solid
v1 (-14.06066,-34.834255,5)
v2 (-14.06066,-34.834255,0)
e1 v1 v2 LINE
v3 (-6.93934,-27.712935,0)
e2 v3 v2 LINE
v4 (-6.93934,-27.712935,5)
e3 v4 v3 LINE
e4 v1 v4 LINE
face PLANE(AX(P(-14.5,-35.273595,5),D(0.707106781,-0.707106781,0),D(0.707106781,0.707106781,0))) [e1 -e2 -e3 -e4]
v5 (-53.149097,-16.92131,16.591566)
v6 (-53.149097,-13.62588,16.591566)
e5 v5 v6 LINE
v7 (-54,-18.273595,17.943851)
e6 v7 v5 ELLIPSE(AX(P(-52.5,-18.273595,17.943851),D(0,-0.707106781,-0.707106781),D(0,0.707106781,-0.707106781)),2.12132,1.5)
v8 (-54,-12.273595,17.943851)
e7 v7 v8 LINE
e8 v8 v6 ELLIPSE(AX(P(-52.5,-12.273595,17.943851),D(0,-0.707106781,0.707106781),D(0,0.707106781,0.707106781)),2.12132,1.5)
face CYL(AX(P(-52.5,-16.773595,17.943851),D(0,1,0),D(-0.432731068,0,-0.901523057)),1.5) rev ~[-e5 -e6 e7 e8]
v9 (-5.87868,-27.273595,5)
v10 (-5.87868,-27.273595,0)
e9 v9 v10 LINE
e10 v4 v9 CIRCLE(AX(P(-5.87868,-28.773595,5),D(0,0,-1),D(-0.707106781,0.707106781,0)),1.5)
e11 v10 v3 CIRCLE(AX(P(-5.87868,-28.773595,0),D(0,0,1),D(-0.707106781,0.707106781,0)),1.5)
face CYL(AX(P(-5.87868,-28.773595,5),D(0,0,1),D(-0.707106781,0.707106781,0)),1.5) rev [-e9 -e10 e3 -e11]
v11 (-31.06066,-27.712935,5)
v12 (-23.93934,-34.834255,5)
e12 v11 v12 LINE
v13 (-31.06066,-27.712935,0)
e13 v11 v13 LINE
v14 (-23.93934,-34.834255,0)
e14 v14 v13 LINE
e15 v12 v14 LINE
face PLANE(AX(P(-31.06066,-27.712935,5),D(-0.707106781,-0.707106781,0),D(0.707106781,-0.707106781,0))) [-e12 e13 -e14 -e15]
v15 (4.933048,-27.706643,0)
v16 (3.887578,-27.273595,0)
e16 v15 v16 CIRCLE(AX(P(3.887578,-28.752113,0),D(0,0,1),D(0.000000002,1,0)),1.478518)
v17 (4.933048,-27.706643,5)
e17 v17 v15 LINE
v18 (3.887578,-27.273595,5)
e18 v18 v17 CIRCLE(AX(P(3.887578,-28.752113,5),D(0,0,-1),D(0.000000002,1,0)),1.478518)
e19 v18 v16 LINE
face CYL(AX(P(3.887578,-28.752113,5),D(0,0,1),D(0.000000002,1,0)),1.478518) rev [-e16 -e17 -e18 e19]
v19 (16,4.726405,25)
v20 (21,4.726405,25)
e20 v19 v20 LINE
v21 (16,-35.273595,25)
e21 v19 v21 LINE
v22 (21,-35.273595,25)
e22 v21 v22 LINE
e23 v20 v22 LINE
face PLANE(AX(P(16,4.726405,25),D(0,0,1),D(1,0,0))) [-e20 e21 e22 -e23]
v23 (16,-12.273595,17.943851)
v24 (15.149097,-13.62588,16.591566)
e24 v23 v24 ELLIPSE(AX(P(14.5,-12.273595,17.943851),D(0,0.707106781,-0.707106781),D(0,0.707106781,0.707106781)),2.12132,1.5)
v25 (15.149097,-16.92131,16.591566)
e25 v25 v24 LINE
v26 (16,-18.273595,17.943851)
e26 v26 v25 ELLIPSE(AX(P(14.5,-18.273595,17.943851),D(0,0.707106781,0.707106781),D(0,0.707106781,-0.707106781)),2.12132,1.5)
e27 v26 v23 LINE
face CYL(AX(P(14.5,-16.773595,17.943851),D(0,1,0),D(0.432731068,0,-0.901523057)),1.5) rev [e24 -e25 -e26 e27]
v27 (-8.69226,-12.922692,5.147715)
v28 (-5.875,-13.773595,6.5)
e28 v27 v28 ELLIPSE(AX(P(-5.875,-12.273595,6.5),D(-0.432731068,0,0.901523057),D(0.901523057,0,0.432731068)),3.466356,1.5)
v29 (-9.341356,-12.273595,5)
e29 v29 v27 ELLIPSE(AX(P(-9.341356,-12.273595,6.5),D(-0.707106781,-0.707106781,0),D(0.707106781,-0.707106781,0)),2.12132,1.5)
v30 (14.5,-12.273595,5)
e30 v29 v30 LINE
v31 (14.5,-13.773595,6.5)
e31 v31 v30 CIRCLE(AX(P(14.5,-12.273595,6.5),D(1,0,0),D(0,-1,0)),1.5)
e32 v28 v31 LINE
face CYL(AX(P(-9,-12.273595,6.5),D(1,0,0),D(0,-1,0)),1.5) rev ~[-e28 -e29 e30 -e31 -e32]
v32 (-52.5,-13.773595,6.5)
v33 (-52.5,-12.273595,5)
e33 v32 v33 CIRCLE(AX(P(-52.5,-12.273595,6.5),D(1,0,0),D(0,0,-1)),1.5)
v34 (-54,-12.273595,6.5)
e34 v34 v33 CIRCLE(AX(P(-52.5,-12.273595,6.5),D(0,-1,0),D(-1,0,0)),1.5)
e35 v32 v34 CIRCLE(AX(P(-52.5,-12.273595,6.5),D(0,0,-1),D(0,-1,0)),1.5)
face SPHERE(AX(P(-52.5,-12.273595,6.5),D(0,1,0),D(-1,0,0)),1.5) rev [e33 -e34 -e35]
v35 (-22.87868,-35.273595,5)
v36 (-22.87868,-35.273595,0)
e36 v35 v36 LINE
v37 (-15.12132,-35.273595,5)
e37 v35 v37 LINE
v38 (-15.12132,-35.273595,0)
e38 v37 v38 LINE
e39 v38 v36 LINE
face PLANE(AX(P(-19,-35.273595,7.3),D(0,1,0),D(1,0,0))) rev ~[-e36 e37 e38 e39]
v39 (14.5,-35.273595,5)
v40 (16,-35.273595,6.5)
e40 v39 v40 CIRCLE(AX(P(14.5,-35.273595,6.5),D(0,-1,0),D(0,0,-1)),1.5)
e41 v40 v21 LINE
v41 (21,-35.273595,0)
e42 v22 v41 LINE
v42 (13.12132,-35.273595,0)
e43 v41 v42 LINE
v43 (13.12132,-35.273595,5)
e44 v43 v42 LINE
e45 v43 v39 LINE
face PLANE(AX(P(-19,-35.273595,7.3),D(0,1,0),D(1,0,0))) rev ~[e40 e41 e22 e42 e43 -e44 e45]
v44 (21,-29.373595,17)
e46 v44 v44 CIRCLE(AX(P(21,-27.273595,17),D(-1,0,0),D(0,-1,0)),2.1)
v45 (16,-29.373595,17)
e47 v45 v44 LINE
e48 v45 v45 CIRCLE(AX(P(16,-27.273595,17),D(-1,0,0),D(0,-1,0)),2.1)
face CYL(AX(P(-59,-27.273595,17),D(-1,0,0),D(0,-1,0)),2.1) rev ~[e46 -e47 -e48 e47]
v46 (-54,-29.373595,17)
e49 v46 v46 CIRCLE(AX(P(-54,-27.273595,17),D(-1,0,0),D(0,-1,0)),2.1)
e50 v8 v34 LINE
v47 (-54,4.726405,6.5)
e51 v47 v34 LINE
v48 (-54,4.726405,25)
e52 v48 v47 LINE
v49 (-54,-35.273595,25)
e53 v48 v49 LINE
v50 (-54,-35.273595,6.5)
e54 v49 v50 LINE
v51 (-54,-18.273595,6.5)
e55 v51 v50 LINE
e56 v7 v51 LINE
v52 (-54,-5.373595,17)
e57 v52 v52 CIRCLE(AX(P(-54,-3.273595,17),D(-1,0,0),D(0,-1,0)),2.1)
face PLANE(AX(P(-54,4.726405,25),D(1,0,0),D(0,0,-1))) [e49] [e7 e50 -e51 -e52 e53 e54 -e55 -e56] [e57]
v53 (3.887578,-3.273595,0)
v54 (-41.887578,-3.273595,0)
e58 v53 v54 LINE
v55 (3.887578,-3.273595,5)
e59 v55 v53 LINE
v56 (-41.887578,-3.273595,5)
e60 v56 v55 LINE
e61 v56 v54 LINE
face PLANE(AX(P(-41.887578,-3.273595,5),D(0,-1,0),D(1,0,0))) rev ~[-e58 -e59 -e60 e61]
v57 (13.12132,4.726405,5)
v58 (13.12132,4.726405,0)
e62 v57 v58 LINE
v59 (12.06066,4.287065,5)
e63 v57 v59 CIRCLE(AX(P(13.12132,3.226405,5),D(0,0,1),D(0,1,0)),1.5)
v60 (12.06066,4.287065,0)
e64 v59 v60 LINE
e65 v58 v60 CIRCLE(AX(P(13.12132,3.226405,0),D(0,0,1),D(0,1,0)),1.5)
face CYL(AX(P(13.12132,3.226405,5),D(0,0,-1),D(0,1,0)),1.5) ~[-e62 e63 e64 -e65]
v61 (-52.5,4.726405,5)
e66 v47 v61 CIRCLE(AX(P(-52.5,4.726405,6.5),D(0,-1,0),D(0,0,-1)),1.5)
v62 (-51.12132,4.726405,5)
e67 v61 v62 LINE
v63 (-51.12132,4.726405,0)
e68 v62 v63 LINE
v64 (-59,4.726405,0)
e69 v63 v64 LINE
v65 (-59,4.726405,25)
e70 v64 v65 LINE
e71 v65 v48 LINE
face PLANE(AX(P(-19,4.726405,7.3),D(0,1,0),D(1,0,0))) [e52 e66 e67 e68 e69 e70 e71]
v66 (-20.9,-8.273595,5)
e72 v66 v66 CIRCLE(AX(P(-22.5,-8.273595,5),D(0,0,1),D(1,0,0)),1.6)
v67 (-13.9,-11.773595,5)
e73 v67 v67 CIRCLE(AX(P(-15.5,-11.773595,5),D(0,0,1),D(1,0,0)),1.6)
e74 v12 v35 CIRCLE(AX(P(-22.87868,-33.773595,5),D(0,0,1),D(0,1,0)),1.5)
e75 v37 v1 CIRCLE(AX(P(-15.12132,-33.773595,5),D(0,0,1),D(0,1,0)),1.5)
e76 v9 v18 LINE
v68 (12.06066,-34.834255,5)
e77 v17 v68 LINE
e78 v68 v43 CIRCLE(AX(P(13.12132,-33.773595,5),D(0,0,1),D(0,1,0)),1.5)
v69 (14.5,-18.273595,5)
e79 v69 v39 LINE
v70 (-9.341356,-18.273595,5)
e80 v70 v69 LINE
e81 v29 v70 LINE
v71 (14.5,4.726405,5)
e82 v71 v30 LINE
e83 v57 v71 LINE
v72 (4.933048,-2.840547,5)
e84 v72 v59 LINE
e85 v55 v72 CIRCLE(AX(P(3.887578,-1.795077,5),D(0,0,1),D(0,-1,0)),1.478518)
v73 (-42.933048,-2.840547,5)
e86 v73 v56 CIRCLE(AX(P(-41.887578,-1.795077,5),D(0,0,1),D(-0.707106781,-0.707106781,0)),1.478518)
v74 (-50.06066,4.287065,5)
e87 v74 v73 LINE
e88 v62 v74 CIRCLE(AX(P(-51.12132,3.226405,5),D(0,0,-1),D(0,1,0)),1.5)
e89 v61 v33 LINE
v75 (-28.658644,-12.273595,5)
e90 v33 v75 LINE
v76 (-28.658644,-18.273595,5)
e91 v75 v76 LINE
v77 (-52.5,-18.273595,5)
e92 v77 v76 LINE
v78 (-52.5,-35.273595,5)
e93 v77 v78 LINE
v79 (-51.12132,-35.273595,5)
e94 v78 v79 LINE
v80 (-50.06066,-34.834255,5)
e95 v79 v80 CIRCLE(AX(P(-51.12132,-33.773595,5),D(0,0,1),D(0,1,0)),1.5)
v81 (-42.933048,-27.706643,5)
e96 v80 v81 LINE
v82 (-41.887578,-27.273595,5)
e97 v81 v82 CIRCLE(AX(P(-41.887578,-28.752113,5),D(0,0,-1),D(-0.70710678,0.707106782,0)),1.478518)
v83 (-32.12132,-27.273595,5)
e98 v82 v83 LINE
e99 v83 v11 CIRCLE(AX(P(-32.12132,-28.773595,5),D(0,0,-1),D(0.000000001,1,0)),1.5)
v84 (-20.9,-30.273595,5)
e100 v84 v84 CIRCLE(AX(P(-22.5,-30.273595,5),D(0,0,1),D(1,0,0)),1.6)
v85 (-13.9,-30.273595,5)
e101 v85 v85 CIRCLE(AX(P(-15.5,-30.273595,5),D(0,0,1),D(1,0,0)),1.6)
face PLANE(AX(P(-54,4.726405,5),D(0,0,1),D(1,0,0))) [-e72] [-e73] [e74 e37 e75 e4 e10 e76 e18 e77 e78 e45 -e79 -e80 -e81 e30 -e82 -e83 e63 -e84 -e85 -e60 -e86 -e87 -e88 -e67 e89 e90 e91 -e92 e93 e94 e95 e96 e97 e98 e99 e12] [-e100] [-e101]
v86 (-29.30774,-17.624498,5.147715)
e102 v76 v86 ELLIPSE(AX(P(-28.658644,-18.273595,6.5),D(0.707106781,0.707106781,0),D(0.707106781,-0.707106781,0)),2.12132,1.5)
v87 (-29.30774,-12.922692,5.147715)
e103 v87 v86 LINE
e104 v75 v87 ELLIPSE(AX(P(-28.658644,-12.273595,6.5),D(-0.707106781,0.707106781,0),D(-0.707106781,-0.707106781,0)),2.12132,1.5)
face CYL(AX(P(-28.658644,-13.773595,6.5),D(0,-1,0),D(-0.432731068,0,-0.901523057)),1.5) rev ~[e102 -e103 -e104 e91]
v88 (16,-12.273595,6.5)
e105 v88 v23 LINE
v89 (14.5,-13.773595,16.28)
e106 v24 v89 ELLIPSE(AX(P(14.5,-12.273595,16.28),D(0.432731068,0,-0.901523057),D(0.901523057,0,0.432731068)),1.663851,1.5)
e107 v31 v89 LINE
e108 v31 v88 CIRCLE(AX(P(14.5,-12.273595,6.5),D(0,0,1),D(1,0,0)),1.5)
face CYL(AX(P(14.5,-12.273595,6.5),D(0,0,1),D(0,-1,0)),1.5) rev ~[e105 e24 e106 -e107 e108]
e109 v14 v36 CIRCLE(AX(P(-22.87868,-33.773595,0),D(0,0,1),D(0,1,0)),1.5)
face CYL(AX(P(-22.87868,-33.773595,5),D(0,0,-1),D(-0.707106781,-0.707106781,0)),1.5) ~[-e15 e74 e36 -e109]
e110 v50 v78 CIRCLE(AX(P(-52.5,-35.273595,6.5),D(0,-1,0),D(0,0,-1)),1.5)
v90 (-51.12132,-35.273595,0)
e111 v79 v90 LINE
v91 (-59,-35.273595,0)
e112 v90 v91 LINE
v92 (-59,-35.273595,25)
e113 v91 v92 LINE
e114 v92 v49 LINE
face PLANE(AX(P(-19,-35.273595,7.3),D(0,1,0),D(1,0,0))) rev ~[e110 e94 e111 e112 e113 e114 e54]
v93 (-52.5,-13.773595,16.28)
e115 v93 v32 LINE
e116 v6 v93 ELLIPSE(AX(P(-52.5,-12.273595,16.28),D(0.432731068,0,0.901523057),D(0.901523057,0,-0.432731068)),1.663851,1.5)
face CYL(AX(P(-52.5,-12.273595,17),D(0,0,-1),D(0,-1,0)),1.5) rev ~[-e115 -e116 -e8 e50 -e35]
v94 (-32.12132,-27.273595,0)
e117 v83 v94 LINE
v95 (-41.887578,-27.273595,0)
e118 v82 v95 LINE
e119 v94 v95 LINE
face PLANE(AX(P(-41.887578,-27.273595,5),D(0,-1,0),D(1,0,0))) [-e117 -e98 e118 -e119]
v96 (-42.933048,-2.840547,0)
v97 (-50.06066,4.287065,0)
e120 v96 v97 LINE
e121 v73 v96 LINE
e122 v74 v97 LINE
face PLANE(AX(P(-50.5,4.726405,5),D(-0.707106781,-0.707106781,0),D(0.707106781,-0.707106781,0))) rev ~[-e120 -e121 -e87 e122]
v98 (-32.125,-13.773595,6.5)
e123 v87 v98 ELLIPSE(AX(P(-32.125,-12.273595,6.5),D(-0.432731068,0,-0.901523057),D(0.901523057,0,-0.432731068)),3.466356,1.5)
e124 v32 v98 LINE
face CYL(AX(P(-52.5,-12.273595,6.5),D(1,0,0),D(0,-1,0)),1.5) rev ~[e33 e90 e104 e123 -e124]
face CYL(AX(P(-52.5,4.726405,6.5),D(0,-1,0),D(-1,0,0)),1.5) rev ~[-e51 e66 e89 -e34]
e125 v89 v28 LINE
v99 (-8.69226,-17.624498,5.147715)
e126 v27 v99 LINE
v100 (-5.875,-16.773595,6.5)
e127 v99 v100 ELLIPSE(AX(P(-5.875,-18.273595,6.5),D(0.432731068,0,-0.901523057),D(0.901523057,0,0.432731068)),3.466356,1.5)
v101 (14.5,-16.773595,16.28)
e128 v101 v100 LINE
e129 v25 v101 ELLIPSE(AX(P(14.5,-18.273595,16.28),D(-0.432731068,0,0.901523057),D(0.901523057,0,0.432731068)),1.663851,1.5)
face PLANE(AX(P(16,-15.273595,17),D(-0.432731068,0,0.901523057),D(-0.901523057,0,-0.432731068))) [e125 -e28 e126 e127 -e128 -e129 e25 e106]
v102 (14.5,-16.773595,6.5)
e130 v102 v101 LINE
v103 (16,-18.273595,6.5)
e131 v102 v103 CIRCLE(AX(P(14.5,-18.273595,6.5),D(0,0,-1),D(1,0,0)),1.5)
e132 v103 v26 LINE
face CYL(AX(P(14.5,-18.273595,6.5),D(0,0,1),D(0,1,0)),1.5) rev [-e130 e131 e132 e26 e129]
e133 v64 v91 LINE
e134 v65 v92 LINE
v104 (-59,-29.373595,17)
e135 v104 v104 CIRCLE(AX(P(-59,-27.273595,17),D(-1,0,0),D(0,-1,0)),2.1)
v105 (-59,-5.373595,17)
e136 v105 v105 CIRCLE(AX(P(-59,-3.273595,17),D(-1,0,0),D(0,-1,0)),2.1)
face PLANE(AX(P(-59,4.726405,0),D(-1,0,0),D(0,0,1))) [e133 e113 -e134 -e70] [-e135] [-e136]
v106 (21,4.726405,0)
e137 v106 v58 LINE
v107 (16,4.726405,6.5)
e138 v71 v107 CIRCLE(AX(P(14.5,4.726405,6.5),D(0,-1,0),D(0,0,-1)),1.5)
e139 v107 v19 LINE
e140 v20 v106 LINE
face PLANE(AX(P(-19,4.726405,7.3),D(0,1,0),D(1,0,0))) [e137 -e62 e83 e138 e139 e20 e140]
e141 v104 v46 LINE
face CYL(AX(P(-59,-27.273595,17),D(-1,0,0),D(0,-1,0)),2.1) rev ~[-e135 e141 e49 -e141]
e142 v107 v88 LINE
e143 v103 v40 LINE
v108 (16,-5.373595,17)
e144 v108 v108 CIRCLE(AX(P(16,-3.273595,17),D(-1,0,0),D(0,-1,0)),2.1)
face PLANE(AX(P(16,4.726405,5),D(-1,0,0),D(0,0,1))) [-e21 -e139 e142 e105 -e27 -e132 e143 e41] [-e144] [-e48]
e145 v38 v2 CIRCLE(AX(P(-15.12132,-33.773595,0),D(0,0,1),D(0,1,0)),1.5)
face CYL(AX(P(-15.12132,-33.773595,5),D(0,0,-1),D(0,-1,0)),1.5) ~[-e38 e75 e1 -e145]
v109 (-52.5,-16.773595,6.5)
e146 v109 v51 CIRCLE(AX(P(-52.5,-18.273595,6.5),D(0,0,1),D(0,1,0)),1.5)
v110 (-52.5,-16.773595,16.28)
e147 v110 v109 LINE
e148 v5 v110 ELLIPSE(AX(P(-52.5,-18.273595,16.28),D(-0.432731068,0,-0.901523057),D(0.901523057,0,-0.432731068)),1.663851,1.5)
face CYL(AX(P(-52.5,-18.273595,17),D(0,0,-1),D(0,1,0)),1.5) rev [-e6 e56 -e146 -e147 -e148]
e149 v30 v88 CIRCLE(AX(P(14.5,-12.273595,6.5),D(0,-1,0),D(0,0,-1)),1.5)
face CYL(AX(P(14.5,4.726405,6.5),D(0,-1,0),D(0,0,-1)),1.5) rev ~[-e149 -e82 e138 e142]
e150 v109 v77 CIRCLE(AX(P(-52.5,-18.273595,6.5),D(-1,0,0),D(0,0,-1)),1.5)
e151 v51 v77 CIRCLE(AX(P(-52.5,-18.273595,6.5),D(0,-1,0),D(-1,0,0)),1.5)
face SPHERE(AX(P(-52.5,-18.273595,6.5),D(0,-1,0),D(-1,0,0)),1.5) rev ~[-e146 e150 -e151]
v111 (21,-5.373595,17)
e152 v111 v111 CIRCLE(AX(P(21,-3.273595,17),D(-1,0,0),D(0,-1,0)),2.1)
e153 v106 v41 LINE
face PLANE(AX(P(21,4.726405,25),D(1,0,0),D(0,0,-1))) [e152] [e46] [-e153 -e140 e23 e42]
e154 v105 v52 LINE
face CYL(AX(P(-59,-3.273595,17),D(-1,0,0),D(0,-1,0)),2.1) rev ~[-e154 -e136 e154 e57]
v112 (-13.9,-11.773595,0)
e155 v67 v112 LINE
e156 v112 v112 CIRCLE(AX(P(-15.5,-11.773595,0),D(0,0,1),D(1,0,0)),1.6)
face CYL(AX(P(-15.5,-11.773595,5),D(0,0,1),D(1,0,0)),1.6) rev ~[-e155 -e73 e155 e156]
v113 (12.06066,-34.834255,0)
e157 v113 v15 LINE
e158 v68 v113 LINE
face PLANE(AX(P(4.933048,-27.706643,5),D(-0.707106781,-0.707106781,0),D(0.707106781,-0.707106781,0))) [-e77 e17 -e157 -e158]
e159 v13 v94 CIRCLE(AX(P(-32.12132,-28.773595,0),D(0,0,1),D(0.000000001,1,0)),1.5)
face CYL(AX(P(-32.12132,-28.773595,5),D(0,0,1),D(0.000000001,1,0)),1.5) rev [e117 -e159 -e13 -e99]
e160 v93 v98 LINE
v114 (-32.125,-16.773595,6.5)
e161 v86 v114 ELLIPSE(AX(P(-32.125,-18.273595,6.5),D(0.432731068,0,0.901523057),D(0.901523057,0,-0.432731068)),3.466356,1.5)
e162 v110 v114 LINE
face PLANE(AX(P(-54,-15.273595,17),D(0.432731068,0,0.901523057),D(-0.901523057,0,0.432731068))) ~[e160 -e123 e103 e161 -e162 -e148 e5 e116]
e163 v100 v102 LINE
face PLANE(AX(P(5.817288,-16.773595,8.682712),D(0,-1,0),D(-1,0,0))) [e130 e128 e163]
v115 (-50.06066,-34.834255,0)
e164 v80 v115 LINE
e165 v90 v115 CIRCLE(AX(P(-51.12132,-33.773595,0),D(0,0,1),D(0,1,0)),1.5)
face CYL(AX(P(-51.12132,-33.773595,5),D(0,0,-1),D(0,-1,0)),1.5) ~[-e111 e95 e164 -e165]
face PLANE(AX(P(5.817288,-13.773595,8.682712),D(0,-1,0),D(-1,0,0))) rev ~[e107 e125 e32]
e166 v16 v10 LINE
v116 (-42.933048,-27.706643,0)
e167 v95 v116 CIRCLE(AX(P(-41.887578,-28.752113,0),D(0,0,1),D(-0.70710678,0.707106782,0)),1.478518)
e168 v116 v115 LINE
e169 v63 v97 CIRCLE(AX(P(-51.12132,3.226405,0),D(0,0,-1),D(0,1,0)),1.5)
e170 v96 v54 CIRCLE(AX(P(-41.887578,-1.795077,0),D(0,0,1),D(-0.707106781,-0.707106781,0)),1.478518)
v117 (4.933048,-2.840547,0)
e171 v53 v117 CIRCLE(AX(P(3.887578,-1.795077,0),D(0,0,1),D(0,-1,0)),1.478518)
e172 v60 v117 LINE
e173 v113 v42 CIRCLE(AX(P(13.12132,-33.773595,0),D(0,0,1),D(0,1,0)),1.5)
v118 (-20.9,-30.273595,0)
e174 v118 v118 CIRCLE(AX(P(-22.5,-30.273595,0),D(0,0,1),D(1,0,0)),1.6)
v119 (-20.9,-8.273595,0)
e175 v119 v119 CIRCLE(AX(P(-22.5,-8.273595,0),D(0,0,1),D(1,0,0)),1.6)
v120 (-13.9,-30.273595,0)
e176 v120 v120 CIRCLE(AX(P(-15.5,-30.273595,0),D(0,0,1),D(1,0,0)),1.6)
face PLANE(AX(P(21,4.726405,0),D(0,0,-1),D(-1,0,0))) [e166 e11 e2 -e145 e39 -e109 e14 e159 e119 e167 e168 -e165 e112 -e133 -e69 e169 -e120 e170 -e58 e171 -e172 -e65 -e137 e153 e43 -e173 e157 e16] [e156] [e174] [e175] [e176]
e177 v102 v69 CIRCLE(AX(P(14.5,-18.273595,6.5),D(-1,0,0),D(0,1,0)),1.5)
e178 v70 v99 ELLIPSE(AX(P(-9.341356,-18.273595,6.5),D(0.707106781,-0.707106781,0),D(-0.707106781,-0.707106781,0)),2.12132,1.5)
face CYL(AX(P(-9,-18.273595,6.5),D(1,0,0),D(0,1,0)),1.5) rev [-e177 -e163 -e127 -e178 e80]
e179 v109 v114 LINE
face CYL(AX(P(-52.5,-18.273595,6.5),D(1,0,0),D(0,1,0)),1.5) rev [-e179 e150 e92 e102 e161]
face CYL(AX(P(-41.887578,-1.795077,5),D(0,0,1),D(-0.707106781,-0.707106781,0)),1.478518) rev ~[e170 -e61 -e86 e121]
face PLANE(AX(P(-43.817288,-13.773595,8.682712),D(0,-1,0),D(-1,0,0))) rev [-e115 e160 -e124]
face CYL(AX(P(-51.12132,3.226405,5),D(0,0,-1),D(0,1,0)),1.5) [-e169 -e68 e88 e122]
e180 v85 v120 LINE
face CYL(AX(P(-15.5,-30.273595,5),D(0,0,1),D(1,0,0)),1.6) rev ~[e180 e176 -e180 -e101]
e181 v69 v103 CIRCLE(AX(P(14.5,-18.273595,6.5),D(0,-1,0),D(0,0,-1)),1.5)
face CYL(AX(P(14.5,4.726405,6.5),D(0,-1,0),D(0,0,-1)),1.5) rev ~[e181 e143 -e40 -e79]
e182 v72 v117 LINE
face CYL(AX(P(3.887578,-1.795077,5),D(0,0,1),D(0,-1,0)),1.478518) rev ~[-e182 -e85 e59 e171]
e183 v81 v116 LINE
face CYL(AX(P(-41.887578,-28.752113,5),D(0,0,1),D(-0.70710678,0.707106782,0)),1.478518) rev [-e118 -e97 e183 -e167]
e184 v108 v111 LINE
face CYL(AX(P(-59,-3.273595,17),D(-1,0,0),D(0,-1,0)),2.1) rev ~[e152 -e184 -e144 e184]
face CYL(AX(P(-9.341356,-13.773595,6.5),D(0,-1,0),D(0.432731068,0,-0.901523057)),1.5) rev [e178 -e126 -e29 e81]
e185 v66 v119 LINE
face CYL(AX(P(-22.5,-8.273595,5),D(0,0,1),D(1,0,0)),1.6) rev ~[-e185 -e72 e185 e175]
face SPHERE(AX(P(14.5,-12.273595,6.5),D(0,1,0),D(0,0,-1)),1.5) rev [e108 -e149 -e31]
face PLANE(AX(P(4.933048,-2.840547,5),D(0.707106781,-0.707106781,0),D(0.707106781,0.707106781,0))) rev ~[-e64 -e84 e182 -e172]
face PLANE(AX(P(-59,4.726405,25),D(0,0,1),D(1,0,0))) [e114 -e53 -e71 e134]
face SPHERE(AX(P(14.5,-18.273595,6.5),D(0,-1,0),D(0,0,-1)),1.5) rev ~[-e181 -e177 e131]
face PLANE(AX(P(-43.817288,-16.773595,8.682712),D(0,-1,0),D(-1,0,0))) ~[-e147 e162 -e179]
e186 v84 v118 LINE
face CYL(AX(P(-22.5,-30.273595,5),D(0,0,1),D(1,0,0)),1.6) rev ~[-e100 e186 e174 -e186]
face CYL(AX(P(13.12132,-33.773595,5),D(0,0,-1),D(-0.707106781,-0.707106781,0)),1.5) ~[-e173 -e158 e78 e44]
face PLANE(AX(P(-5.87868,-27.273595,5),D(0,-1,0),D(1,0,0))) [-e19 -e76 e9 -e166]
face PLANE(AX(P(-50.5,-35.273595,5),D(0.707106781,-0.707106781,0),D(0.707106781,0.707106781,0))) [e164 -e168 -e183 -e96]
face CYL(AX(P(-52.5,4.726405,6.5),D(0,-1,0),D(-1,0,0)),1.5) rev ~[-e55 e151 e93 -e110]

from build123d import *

# Parameters (mm, degrees)
EXTRUDE_1_DEPTH     = 40
FILLET_1_R          = 1.5
SKETCH_3_R          = 1.6
CUT_EXTRUDE_1_DEPTH = 40
SKETCH_4_R          = 2.1
CUT_EXTRUDE_2_DEPTH = 80
SKETCH_5_R          = 1.6
CUT_EXTRUDE_3_DEPTH = 80
CUT_EXTRUDE_4_DEPTH = 10
FILLET_4_R          = 1.5
EXTRUDE_2_DEPTH     = 1.5
FILLET_5_R          = 1.5
FILLET_6_R          = 1.5


with BuildPart() as part:
    # 草图2 → 凸台-拉伸1 (new body)
    with BuildSketch(Plane(origin=(0, 4.726404994, 0), x_dir=(1, 0, 0), z_dir=(0, 1, 0))):
        Polygon((21, 0), (-59, 0), (-59, -25), (-54, -25), (-54, -5), (16, -5), (16, -25), (21, -25), align=None)
    extrude(amount=-EXTRUDE_1_DEPTH)

    # 圆角1
    fillet_1_edges = [part.edges().sort_by_distance(p)[0] for p in [
        (16, -15.273595006, 5),
        (-54, -15.273595006, 5),
    ]]
    fillet(fillet_1_edges, radius=FILLET_1_R)

    # 草图3 → 切除-拉伸1 (cut)
    with BuildSketch(Plane.XY.offset(5)):
        with Locations((-22.5, -30.273595006)):
            Circle(SKETCH_3_R)
        with Locations((-22.5, -8.273595006)):
            Circle(SKETCH_3_R)
    extrude(amount=-CUT_EXTRUDE_1_DEPTH, mode=Mode.SUBTRACT)

    # 草图4 → 切除-拉伸2 (cut)
    with BuildSketch(Plane.ZY.offset(59)):
        with Locations(Location((17, -3.273595006, 0), (0, 0, 270))):
            Circle(SKETCH_4_R)
        with Locations(Location((17, -27.273595006, 0), (0, 0, 270))):
            Circle(SKETCH_4_R)
    extrude(amount=-CUT_EXTRUDE_2_DEPTH, mode=Mode.SUBTRACT)

    # 草图5 → 切除-拉伸3 (cut)
    with BuildSketch(Plane.XY.offset(5)):
        with Locations((-15.5, -30.273595006)):
            Circle(SKETCH_5_R)
        with Locations((-15.5, -11.773595006)):
            Circle(SKETCH_5_R)
    extrude(amount=-CUT_EXTRUDE_3_DEPTH, mode=Mode.SUBTRACT)

    # 草图7 → 切除-拉伸4 (cut)
    with BuildSketch(Plane.XY.offset(5)):
        with BuildLine():
            Line((-50.5, 4.726404994), (-42.933047922, -2.840547084))
            ThreePointArc((-42.933047922, -2.840547084), (-42.453382132, -3.161049518), (-41.887577755, -3.273595006))
            Line((-41.887577755, -3.273595006), (3.887577755, -3.273595006))
            ThreePointArc((3.887577755, -3.273595006), (4.453382132, -3.161049518), (4.933047922, -2.840547084))
            Line((4.933047922, -2.840547084), (12.5, 4.726404994))
            Line((12.5, 4.726404994), (-50.5, 4.726404994))
        make_face()
        with BuildLine():
            Line((12.5, -35.273595006), (-14.5, -35.273595006))
            Line((-14.5, -35.273595006), (-6.939339828, -27.712934835))
            ThreePointArc((-6.939339828, -27.712934835), (-6.452704805, -27.387775708), (-5.878679656, -27.273595006))
            Line((-5.878679656, -27.273595006), (3.887577755, -27.273595006))
            ThreePointArc((3.887577755, -27.273595006), (4.453382132, -27.386140495), (4.933047922, -27.706642929))
            Line((4.933047922, -27.706642929), (12.5, -35.273595006))
        make_face()
        with BuildLine():
            Line((-41.887577755, -27.273595006), (-32.121320344, -27.273595006))
            ThreePointArc((-32.121320344, -27.273595006), (-31.547295195, -27.387775708), (-31.060660172, -27.712934835))
            Line((-31.060660172, -27.712934835), (-23.5, -35.273595006))
            Line((-23.5, -35.273595006), (-50.5, -35.273595006))
            Line((-50.5, -35.273595006), (-42.933047922, -27.706642929))
            ThreePointArc((-42.933047922, -27.706642929), (-42.453382132, -27.386140495), (-41.887577755, -27.273595006))
        make_face()
    extrude(amount=-CUT_EXTRUDE_4_DEPTH, mode=Mode.SUBTRACT)

    # 圆角4
    fillet_4_edges = [part.edges().sort_by_distance(p)[0] for p in [
        (-50.5, 4.726404994, 2.5),
        (12.5, 4.726404994, 2.5),
        (-14.5, -35.273595006, 2.5),
        (12.5, -35.273595006, 2.5),
        (-50.5, -35.273595006, 2.5),
        (-23.5, -35.273595006, 2.5),
    ]]
    fillet(fillet_4_edges, radius=FILLET_4_R)

    # 草图6 → 凸台-拉伸2 (add, symmetric)
    with BuildSketch(Plane(origin=(0, -15.273595006, 0), x_dir=(-1, 0, 0), z_dir=(0, -1, 0))):
        Polygon((-16, -17), (9, -5), (-16, -5), align=None)
    extrude_2 = extrude(amount=EXTRUDE_2_DEPTH, both=True)

    # 圆角5
    fillet_5_edges = [part.edges().sort_by_distance(p)[0] for p in [
        (15.560660172, -16.773595006, 5.439339828),
        (15.560660172, -13.773595006, 5.439339828),
        (2.75, -13.773595006, 5),
        (2.75, -16.773595006, 5),
        (16, -16.773595006, 11.75),
        (16, -13.773595006, 11.75),
        (16, -15.273595006, 17),
        (-9, -15.273595006, 5),
    ]]
    fillet(fillet_5_edges, radius=FILLET_5_R)

    # 镜向2: 凸台-拉伸2 across plane
    add(extrude_2.mirror(Plane.ZY.offset(19)))

    # 圆角6
    fillet_6_edges = [part.edges().sort_by_distance(p)[0] for p in [
        (-53.560660172, -16.773595006, 5.439339828),
        (-53.560660172, -13.773595006, 5.439339828),
        (-40.75, -16.773595006, 5),
        (-29, -15.273595006, 5),
        (-54, -13.773595006, 11.75),
        (-40.75, -13.773595006, 5),
        (-54, -16.773595006, 11.75),
        (-54, -15.273595006, 17),
    ]]
    fillet(fillet_6_edges, radius=FILLET_6_R)


solid = part.part
